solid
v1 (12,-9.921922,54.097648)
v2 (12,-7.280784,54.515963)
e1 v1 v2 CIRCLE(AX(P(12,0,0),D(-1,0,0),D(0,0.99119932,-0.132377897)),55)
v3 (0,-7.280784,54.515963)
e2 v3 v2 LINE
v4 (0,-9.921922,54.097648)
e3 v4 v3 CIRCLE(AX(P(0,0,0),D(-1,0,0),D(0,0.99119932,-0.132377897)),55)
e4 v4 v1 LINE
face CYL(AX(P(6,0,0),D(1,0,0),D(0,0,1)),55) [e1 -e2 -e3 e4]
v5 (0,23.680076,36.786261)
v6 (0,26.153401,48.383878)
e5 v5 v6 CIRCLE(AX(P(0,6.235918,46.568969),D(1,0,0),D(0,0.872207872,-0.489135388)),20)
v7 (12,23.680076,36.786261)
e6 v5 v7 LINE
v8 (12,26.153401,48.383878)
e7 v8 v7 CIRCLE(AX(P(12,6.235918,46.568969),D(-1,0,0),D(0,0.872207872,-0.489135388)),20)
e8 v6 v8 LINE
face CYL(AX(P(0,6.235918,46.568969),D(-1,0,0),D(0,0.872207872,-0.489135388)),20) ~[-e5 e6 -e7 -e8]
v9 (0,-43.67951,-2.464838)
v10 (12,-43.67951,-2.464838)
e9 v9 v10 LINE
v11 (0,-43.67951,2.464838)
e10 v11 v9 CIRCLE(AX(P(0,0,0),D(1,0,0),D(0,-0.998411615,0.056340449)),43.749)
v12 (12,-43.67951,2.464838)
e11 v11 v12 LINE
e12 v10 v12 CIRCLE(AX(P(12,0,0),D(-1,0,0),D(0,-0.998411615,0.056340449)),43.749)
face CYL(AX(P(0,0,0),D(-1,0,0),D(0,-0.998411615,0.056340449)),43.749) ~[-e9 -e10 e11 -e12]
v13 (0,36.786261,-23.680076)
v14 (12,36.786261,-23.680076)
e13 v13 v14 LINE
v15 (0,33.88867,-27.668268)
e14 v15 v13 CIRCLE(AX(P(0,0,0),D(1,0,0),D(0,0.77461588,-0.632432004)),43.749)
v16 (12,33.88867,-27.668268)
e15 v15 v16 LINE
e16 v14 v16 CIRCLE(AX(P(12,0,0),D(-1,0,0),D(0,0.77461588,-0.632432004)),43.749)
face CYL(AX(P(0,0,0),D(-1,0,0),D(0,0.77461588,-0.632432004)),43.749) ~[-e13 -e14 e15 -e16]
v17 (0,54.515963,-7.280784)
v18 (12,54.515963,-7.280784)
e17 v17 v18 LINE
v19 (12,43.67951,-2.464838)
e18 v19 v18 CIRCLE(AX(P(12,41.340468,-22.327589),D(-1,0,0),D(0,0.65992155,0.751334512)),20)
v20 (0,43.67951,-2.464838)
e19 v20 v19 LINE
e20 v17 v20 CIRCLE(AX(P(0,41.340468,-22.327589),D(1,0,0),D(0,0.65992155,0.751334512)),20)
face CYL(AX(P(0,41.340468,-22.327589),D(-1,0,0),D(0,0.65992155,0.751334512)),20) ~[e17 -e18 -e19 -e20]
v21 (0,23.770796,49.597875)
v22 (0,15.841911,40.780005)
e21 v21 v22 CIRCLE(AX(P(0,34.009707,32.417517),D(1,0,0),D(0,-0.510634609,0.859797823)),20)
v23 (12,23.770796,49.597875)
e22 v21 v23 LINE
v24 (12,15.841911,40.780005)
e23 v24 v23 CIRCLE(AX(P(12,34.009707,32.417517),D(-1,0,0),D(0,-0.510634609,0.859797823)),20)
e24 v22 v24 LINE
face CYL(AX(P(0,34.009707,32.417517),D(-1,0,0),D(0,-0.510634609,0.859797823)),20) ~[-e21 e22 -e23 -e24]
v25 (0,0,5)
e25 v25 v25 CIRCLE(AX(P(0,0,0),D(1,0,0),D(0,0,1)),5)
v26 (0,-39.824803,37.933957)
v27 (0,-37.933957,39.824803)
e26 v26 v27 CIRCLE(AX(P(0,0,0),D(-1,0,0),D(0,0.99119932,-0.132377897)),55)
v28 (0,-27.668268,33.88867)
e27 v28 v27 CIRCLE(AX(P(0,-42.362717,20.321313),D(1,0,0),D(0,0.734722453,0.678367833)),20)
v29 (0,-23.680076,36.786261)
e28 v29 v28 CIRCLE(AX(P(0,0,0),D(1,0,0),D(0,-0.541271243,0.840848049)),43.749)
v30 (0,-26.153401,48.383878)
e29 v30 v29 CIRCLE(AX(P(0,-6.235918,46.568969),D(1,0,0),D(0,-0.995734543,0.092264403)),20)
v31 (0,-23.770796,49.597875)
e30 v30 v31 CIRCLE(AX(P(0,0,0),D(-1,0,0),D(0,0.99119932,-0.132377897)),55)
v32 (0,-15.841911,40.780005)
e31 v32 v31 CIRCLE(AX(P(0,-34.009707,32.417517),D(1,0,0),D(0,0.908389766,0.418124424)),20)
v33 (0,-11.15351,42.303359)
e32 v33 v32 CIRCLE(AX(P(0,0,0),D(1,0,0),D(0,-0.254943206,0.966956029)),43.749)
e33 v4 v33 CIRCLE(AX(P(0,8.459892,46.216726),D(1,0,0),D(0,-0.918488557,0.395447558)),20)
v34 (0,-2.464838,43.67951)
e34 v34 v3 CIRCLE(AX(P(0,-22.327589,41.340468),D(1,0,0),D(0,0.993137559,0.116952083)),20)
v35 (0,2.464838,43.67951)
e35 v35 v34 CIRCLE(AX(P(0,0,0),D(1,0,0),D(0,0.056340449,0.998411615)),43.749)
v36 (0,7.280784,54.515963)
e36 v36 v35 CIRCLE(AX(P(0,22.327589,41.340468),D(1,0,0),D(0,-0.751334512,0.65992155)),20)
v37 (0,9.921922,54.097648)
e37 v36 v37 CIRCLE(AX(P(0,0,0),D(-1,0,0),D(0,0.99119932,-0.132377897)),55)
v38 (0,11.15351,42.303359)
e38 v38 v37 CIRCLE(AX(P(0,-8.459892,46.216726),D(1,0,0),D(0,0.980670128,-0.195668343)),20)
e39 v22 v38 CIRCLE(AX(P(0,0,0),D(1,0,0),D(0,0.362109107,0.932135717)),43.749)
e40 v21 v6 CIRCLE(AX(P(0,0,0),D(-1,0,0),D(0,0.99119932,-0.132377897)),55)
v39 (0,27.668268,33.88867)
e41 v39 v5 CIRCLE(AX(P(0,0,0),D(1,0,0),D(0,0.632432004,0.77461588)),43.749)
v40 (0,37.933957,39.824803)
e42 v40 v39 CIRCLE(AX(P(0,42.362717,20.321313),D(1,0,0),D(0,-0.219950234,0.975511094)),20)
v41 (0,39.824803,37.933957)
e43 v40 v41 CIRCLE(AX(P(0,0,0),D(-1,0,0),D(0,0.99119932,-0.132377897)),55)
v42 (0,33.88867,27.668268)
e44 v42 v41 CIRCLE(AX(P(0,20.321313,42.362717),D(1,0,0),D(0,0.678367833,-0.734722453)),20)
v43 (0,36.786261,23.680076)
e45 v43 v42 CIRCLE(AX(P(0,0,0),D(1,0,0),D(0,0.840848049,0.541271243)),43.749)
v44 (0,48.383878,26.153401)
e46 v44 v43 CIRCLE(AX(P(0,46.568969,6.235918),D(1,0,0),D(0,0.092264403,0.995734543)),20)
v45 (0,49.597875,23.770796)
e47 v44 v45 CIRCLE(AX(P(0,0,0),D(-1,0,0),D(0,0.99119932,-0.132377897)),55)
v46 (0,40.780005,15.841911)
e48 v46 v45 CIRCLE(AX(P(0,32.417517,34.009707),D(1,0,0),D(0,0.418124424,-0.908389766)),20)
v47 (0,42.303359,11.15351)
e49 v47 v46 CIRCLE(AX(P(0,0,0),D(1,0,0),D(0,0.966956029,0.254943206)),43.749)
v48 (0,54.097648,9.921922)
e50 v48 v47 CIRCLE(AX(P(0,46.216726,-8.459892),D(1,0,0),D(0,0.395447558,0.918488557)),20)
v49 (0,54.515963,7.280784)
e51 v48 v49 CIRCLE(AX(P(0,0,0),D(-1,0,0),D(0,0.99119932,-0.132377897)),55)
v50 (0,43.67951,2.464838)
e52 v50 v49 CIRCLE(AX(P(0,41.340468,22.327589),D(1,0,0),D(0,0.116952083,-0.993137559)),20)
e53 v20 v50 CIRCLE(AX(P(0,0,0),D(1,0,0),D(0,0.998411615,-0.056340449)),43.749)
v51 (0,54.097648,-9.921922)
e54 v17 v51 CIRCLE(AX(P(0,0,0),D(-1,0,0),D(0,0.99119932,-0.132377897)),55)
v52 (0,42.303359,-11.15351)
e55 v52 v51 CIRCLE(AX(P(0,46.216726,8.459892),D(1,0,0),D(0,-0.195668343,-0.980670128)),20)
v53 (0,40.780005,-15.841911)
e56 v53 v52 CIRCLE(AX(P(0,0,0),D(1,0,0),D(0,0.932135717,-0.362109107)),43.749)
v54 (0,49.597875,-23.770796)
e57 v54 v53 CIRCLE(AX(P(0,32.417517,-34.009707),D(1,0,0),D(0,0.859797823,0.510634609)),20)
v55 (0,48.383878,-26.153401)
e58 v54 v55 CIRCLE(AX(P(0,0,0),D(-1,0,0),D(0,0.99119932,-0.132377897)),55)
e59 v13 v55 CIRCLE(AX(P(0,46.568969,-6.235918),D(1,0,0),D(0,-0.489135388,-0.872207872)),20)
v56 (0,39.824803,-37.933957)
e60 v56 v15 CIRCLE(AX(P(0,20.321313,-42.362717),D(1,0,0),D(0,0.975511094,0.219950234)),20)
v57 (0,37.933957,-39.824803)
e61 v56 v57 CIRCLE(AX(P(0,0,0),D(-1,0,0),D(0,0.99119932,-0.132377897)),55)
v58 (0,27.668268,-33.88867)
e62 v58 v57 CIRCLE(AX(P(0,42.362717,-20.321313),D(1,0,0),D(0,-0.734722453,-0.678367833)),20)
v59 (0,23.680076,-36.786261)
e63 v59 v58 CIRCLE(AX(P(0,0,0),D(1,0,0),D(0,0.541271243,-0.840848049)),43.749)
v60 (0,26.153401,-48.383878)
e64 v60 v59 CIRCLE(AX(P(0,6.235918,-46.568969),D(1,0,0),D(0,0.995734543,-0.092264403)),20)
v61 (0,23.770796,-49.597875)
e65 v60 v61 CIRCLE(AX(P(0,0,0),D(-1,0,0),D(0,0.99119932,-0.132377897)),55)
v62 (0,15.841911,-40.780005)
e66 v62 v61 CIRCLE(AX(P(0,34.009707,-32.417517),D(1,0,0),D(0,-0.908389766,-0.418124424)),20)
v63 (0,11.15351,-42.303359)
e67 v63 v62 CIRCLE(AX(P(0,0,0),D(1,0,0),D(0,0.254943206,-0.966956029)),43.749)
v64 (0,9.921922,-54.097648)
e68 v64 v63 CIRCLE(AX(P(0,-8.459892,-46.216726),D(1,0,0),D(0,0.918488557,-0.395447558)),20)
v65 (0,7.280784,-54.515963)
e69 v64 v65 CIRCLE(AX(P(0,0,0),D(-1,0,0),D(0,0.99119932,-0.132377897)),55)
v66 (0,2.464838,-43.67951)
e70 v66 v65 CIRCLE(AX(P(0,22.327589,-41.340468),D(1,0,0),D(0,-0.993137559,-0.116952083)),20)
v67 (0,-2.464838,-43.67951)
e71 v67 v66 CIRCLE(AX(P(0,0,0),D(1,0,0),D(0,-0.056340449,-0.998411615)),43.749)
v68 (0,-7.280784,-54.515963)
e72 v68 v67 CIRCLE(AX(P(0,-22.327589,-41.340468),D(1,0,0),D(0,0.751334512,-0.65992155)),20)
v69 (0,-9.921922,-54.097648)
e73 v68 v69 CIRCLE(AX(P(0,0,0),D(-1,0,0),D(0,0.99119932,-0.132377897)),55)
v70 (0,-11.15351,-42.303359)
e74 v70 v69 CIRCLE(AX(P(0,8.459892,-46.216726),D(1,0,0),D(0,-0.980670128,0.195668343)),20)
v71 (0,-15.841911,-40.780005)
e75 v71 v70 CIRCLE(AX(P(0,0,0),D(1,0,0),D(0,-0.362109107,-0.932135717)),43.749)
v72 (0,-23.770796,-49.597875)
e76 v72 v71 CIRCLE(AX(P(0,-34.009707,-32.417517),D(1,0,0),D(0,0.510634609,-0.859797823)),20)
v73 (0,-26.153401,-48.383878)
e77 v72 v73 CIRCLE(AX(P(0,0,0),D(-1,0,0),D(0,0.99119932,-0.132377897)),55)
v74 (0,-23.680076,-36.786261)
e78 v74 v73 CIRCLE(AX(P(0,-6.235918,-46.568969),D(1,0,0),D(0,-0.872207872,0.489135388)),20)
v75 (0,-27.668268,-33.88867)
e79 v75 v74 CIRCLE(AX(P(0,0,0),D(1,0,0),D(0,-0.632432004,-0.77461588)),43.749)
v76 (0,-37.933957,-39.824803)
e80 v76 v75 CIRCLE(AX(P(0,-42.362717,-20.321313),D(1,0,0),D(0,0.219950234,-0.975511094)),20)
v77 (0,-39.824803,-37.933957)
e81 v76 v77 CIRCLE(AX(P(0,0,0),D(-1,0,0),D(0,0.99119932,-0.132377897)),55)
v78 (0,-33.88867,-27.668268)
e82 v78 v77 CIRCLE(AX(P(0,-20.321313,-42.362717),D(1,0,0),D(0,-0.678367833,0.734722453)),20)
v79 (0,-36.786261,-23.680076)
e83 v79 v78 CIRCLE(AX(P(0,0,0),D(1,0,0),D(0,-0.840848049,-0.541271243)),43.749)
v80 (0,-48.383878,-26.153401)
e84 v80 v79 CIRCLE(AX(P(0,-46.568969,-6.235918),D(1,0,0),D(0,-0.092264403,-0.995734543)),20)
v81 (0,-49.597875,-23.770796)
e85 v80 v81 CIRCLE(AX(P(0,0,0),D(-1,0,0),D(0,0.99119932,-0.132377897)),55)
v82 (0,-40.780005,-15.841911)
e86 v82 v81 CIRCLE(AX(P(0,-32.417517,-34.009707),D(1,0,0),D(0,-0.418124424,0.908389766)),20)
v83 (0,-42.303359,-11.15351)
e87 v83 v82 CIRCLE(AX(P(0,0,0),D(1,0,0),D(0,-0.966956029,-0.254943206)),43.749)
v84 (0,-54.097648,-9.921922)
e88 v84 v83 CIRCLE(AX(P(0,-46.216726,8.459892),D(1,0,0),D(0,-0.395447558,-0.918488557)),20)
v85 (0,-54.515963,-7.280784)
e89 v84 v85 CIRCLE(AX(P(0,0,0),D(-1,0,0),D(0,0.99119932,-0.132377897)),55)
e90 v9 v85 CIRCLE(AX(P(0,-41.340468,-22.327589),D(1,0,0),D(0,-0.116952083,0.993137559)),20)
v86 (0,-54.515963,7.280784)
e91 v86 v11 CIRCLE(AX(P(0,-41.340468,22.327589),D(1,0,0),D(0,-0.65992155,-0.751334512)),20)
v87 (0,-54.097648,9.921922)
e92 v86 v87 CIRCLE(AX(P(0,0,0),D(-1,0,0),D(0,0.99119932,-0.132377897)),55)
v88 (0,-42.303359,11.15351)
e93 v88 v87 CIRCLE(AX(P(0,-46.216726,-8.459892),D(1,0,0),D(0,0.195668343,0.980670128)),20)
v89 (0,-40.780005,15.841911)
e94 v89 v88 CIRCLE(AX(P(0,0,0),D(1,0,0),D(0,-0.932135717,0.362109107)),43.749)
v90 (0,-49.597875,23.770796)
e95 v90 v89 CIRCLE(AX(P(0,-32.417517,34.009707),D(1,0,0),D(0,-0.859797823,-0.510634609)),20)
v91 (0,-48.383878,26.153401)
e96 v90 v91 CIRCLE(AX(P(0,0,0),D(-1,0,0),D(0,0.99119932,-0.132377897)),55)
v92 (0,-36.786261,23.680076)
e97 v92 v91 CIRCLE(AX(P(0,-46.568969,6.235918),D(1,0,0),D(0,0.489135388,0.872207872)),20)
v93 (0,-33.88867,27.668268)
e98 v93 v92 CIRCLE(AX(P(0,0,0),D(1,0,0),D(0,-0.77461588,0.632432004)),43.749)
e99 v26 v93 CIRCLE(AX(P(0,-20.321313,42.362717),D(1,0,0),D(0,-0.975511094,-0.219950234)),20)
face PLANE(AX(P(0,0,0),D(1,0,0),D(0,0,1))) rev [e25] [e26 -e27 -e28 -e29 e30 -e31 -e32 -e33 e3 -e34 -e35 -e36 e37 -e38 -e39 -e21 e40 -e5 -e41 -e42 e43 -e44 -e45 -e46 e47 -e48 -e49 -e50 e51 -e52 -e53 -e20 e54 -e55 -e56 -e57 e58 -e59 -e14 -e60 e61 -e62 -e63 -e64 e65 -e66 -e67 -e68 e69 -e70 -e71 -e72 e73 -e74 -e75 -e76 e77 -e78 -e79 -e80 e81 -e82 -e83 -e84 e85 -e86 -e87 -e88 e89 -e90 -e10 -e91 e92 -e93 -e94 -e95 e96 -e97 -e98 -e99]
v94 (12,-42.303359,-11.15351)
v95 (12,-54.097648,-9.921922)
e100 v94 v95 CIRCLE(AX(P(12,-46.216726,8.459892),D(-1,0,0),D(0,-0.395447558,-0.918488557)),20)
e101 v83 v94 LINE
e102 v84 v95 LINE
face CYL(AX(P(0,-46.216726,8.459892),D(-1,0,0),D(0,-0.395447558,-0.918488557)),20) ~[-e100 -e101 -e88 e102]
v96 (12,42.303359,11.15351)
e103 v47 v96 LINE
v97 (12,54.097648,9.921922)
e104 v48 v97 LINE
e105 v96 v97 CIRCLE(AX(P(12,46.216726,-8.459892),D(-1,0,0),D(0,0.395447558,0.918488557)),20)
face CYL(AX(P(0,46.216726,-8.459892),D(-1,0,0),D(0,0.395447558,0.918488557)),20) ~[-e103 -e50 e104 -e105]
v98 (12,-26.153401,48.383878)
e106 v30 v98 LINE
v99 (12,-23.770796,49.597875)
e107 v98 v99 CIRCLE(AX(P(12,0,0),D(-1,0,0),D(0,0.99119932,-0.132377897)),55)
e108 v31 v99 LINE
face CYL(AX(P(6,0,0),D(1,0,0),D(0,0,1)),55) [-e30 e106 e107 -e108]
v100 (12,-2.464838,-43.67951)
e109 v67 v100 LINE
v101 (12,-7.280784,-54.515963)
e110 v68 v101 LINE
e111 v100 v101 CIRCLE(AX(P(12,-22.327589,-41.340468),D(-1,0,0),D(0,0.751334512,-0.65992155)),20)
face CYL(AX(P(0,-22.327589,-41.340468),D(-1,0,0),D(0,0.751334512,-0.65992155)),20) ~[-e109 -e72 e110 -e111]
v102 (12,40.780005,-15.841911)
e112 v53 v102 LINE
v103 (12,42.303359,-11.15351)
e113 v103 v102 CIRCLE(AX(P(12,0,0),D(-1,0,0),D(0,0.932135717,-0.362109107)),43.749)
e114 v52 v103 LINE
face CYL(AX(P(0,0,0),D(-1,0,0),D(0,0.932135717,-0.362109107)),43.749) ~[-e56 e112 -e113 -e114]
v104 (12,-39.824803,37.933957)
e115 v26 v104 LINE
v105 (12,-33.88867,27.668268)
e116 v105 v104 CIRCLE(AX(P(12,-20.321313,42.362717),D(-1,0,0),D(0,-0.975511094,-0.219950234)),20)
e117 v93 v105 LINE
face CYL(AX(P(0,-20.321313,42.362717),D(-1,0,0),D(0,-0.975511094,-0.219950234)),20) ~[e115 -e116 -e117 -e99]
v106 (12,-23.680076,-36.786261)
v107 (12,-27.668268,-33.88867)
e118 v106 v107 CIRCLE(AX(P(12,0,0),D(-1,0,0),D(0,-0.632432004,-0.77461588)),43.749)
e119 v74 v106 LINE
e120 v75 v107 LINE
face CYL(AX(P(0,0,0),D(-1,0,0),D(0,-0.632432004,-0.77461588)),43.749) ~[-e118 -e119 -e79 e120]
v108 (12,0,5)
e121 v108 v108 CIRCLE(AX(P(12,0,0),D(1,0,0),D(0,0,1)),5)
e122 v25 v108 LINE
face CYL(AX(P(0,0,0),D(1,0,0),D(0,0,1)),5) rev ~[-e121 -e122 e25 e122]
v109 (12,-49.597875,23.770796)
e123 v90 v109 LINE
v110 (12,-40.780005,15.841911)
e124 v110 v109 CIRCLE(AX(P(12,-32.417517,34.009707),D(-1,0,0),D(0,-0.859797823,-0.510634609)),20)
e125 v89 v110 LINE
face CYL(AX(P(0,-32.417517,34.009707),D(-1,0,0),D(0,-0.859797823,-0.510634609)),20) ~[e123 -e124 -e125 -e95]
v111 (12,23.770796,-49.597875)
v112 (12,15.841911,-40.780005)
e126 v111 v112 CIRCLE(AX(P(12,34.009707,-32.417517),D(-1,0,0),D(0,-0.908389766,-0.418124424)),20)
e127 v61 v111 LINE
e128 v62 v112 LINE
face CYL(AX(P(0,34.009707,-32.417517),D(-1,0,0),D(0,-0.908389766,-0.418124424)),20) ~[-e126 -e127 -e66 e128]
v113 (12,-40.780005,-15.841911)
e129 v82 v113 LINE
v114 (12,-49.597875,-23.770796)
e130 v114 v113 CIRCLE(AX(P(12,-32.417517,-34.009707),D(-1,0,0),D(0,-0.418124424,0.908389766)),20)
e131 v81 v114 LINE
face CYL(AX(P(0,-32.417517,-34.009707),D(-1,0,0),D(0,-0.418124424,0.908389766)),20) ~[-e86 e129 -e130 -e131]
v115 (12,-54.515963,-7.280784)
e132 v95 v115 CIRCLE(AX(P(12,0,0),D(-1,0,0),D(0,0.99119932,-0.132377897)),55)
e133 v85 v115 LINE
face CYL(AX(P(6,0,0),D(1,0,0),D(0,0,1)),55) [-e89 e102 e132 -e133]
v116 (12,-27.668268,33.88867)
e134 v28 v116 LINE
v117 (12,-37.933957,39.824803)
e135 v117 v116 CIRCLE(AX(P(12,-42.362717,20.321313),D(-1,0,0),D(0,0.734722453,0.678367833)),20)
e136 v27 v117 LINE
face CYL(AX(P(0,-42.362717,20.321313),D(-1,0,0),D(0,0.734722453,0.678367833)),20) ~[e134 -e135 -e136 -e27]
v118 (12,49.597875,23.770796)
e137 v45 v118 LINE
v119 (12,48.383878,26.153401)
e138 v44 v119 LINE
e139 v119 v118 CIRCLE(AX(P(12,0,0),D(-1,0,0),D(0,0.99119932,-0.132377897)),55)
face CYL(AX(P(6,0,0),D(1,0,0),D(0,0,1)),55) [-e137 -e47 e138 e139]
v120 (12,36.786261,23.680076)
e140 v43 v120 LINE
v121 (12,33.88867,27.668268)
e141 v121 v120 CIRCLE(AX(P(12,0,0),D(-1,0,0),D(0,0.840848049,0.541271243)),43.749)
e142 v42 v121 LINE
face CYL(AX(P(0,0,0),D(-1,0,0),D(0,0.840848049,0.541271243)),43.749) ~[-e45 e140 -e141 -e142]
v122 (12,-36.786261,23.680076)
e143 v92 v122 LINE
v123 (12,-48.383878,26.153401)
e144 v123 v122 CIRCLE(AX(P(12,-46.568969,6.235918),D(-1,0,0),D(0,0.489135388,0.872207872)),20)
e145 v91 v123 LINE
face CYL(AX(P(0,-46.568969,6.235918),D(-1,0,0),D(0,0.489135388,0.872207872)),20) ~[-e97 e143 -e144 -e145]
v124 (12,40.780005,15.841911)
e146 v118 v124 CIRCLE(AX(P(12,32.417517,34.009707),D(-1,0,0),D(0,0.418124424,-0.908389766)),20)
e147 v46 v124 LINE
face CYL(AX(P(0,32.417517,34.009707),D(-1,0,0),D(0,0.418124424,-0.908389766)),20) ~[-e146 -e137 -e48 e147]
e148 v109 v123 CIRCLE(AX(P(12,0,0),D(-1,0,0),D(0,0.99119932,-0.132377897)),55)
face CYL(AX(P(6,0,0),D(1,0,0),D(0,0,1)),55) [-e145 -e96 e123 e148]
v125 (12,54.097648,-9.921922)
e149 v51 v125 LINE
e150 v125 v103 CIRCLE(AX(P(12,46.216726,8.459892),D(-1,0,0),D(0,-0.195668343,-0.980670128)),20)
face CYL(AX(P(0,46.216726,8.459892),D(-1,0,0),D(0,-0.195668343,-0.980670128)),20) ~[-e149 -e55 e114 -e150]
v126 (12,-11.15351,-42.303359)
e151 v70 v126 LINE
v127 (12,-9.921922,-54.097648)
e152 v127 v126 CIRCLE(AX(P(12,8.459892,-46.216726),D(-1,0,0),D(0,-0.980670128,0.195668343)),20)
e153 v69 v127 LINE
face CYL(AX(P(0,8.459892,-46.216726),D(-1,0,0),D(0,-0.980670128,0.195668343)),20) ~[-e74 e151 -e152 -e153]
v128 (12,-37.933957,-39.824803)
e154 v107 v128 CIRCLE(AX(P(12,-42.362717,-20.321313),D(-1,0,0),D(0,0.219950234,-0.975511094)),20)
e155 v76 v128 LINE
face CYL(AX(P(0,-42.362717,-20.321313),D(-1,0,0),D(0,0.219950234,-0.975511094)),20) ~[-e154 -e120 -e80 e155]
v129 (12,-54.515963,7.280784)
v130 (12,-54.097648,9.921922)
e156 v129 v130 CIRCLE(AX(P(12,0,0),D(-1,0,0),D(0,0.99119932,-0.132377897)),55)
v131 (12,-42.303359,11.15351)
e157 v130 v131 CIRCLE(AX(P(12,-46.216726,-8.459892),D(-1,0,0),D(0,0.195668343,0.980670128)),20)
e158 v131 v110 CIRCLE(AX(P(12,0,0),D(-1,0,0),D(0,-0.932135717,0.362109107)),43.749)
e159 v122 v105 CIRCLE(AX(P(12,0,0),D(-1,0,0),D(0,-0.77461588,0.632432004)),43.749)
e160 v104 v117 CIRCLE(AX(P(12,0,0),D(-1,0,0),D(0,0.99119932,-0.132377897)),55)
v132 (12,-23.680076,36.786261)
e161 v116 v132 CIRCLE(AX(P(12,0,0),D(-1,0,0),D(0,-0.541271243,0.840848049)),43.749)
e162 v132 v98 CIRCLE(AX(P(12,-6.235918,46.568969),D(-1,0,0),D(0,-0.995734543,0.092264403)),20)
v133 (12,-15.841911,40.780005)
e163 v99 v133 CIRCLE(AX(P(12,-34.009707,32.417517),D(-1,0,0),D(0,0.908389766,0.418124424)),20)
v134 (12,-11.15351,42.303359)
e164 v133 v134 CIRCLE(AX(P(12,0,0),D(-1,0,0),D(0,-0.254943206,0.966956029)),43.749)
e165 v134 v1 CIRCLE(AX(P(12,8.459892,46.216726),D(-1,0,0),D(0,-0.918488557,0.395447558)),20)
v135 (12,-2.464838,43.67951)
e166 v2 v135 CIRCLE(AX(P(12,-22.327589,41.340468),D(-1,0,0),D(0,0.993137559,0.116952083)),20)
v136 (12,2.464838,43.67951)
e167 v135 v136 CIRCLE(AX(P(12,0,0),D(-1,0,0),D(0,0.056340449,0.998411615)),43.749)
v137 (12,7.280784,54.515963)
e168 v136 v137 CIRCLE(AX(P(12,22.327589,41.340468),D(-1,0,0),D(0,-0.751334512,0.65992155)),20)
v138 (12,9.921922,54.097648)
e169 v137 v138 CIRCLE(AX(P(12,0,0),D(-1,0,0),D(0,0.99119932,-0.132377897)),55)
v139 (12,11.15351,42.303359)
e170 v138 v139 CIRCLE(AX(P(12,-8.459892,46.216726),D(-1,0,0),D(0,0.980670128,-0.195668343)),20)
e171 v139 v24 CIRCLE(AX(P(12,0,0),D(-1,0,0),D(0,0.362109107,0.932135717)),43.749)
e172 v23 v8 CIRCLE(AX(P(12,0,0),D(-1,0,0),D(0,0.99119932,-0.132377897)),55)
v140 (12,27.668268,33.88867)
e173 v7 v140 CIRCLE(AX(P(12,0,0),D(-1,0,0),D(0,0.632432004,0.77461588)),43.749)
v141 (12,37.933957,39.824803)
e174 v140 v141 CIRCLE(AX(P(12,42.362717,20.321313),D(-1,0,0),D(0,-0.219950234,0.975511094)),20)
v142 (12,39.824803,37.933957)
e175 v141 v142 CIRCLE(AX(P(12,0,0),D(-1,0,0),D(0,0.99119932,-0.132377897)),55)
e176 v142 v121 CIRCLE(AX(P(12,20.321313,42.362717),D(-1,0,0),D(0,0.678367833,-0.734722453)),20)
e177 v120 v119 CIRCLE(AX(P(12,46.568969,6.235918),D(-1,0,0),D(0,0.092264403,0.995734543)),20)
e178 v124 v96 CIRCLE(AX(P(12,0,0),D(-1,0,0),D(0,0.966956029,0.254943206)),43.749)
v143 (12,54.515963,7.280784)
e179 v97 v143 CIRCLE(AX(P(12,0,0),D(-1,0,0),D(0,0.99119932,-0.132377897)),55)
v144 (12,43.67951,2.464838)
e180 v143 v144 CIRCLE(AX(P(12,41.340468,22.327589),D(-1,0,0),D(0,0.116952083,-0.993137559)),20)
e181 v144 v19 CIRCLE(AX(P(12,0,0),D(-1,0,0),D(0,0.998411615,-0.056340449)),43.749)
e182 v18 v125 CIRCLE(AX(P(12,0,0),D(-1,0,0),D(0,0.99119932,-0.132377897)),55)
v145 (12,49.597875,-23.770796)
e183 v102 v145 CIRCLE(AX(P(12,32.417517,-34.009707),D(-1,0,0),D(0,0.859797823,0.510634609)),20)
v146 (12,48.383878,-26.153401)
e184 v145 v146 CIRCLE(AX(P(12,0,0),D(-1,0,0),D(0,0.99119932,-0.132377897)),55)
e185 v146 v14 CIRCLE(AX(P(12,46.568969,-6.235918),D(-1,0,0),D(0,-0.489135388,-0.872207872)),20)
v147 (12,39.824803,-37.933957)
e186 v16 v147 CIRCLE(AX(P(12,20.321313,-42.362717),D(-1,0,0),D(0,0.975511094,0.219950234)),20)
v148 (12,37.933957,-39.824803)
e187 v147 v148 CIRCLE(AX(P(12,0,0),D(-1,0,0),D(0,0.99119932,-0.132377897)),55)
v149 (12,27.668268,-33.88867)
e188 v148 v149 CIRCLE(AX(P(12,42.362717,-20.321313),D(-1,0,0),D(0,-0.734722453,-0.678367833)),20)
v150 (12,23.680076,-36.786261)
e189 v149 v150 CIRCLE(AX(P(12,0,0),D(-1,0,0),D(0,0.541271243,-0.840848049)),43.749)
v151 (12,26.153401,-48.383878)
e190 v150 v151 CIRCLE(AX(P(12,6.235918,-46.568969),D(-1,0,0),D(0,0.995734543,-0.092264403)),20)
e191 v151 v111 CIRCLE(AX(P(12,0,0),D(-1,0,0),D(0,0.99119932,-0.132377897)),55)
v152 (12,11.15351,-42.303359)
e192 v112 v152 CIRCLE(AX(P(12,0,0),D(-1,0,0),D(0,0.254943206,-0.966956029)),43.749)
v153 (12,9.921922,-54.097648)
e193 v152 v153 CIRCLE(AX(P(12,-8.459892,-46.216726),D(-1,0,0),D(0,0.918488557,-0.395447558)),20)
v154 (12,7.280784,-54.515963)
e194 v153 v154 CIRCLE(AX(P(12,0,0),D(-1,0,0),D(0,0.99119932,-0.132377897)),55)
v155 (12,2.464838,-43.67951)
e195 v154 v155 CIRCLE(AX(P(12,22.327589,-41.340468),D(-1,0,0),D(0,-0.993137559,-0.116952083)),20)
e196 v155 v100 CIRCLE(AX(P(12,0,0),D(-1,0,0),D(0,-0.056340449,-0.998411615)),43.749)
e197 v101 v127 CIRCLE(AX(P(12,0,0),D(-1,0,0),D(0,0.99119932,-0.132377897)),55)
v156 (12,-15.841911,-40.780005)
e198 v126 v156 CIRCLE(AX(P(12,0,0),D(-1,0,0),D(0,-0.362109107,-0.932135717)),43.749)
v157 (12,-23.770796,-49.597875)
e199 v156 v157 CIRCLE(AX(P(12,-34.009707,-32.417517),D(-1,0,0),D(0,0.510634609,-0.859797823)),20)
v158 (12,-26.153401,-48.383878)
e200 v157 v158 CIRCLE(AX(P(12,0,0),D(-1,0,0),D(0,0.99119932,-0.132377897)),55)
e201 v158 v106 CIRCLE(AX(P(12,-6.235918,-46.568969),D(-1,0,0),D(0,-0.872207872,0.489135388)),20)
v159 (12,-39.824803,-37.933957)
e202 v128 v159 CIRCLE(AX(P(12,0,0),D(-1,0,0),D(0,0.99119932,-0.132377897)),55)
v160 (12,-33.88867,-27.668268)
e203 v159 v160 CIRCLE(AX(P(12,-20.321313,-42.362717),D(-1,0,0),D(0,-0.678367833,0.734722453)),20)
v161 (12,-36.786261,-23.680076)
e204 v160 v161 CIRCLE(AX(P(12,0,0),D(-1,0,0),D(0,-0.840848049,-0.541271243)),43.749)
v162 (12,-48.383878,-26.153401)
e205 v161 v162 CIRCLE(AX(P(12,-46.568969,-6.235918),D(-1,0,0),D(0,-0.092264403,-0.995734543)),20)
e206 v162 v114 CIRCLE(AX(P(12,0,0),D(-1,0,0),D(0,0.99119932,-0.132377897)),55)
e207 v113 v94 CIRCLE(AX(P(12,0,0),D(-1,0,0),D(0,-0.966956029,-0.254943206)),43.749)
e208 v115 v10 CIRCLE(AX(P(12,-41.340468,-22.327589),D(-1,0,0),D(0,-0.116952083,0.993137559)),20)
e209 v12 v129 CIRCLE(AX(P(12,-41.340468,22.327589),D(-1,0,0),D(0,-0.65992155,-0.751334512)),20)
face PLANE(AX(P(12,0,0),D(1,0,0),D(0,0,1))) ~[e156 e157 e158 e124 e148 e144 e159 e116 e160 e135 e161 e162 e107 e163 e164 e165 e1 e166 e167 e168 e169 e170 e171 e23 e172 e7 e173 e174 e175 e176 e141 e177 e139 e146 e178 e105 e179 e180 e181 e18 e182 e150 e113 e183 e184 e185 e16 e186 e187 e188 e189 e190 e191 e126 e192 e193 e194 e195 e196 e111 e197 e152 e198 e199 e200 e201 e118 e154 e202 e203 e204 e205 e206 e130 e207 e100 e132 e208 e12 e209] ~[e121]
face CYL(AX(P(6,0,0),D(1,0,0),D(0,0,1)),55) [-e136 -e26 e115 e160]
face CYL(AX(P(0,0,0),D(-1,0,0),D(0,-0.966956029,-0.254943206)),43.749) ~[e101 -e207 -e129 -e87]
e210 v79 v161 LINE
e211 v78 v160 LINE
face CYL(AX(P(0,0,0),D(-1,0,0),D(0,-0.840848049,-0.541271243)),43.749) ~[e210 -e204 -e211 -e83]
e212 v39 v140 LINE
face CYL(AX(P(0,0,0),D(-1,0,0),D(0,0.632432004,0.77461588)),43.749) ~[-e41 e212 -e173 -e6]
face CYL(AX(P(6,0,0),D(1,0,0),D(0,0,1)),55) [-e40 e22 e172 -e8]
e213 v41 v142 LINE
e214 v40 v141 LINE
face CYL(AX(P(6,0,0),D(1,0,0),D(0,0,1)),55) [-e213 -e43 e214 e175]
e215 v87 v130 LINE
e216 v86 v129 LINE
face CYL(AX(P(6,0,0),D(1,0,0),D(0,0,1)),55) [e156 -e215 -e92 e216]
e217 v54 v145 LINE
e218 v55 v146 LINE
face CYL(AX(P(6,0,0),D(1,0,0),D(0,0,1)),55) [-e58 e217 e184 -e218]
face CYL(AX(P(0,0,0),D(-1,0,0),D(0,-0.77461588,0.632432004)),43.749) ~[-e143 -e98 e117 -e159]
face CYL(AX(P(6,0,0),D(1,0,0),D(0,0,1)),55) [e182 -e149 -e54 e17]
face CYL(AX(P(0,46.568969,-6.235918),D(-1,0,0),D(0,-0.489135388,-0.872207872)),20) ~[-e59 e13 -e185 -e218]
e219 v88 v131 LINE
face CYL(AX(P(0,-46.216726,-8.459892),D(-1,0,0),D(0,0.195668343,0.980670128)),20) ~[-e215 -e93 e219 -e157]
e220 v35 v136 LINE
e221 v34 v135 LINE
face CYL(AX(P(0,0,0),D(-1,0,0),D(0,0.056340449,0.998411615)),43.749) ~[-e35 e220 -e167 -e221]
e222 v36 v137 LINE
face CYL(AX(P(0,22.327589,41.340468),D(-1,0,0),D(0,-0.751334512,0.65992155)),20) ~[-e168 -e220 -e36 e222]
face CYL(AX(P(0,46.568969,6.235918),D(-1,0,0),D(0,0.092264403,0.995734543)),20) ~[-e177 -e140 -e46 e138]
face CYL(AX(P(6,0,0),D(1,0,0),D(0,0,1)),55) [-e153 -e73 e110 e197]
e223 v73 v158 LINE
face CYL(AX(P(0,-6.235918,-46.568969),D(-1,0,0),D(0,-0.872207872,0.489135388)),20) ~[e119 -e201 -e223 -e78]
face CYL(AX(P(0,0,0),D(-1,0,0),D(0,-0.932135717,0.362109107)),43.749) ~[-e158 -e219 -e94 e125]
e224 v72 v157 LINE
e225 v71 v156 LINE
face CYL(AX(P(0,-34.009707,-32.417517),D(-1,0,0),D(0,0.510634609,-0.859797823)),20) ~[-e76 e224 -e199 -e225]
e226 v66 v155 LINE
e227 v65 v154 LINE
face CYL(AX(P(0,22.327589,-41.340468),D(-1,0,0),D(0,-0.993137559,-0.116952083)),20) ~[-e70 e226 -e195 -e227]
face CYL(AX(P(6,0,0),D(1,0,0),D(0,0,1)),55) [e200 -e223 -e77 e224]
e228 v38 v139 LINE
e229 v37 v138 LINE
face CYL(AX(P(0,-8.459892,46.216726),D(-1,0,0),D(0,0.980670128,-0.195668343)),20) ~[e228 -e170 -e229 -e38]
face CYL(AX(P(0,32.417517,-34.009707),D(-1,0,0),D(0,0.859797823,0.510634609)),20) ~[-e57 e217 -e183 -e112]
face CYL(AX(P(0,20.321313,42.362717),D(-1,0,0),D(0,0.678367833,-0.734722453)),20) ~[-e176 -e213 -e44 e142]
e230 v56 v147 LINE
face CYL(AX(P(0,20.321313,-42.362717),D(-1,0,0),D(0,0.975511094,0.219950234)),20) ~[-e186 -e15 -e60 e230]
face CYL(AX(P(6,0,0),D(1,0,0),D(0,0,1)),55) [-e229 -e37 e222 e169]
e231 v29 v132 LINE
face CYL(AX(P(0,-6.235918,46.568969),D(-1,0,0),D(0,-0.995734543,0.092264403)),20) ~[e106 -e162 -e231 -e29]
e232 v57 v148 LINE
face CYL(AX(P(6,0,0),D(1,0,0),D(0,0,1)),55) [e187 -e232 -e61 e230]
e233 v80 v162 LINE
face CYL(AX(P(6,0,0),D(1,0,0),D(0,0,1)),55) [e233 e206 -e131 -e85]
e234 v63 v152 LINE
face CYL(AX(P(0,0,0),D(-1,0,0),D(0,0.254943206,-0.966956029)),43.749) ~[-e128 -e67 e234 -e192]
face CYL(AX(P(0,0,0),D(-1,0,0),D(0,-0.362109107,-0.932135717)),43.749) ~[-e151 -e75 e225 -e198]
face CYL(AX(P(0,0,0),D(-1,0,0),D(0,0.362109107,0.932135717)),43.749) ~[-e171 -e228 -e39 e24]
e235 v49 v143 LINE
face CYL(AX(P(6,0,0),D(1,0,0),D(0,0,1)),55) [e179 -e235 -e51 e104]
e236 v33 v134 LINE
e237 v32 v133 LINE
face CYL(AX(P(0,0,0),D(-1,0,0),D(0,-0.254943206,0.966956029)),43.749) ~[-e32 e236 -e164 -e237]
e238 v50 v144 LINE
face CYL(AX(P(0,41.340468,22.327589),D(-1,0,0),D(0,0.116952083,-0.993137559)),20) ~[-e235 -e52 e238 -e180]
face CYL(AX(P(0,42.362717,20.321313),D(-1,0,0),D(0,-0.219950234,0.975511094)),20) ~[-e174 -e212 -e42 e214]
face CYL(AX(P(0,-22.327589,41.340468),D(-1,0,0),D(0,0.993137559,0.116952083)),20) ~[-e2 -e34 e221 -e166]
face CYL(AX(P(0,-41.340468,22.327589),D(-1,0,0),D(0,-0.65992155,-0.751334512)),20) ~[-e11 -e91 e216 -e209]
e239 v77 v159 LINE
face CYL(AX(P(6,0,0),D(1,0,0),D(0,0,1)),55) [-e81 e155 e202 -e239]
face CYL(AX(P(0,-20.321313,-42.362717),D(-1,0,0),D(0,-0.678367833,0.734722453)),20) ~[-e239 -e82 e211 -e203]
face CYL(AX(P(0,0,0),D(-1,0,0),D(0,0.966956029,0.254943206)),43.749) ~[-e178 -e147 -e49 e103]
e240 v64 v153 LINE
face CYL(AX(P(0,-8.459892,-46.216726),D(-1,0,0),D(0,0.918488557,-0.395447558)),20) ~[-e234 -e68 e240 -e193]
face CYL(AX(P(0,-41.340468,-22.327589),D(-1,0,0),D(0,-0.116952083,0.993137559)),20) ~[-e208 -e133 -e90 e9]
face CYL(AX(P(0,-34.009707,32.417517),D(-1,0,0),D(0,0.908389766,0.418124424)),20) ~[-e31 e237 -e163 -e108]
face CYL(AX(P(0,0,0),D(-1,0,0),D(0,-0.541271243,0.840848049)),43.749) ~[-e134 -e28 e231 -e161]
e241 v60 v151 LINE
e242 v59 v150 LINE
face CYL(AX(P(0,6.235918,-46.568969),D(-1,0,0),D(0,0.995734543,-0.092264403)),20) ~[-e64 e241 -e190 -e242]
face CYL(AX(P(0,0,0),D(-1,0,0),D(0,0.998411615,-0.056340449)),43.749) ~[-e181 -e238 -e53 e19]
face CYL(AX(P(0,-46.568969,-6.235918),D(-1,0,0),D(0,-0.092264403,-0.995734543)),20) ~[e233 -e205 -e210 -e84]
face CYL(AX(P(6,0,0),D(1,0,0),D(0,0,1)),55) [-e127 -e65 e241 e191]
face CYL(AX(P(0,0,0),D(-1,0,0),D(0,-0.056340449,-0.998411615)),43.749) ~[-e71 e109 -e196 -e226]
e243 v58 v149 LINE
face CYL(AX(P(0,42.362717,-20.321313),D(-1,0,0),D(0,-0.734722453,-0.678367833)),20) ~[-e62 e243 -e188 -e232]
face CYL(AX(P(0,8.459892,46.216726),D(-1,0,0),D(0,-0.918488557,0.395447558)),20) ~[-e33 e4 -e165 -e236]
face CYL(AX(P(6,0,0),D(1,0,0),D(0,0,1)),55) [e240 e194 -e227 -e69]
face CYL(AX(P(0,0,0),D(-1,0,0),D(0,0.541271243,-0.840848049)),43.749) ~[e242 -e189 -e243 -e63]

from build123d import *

# Parameters (mm, degrees)
BASPROSKE_W     = 12
BASPROSKE_H     = 55
TOOTHCUT_DEPTH  = 79.70196948
TEETHCUTS_COUNT = 20
TEETHCUTS_ANGLE = 342
BORSKE_R        = 5
BORE_DEPTH      = 50.0000508


with BuildPart() as part:
    # BasProSke → Base-Revolve (revolve)
    with BuildSketch(Plane(origin=(0, 0, 0), x_dir=(1, 0, 0), z_dir=(0, 1, 0)), mode=Mode.PRIVATE) as base_revolve_sk:
        with Locations((6, 27.5)):
            Rectangle(BASPROSKE_W, BASPROSKE_H)
    revolve(base_revolve_sk.sketch.rotate(Axis((-10, 0, 0), (1, 0, 0)), 180), axis=Axis((-10, 0, 0), (1, 0, 0)))

    # TooCutSke → ToothCut (cut, through all)
    with BuildSketch(Plane(origin=(0, 0, 0), x_dir=(0, 0, -1), z_dir=(1, 0, 0))):
        with BuildLine():
            ThreePointArc((2.464838288, 43.679509764), (0, 43.749), (-2.464838288, 43.679509764))
            ThreePointArc((-2.464838288, 43.679509764), (-4.057398861, 49.476814676), (-7.300899231, 54.538899105))
            ThreePointArc((-7.300899231, 54.538899105), (0, 55.0254), (7.300899231, 54.538899105))
            ThreePointArc((7.300899231, 54.538899105), (4.057398861, 49.476814676), (2.464838288, 43.679509764))
        make_face()
    toothcut = extrude(amount=TOOTHCUT_DEPTH, mode=Mode.SUBTRACT)

    # TeethCuts: ToothCut ×20 about axis
    teethcuts_axis = Axis((-10, 0, 0), (1, 0, 0))
    for i in range(1, TEETHCUTS_COUNT):
        add(toothcut.rotate(teethcuts_axis, i * TEETHCUTS_ANGLE / (TEETHCUTS_COUNT - 1)), mode=Mode.SUBTRACT)

    # BorSke → Bore (cut, symmetric)
    with BuildSketch(Plane(origin=(0, 0, 0), x_dir=(0, 0, -1), z_dir=(1, 0, 0))):
        with Locations(Location((0, 0, 0), (0, 0, 180))):
            Circle(BORSKE_R)
    extrude(amount=BORE_DEPTH, both=True, mode=Mode.SUBTRACT)


solid = part.part
